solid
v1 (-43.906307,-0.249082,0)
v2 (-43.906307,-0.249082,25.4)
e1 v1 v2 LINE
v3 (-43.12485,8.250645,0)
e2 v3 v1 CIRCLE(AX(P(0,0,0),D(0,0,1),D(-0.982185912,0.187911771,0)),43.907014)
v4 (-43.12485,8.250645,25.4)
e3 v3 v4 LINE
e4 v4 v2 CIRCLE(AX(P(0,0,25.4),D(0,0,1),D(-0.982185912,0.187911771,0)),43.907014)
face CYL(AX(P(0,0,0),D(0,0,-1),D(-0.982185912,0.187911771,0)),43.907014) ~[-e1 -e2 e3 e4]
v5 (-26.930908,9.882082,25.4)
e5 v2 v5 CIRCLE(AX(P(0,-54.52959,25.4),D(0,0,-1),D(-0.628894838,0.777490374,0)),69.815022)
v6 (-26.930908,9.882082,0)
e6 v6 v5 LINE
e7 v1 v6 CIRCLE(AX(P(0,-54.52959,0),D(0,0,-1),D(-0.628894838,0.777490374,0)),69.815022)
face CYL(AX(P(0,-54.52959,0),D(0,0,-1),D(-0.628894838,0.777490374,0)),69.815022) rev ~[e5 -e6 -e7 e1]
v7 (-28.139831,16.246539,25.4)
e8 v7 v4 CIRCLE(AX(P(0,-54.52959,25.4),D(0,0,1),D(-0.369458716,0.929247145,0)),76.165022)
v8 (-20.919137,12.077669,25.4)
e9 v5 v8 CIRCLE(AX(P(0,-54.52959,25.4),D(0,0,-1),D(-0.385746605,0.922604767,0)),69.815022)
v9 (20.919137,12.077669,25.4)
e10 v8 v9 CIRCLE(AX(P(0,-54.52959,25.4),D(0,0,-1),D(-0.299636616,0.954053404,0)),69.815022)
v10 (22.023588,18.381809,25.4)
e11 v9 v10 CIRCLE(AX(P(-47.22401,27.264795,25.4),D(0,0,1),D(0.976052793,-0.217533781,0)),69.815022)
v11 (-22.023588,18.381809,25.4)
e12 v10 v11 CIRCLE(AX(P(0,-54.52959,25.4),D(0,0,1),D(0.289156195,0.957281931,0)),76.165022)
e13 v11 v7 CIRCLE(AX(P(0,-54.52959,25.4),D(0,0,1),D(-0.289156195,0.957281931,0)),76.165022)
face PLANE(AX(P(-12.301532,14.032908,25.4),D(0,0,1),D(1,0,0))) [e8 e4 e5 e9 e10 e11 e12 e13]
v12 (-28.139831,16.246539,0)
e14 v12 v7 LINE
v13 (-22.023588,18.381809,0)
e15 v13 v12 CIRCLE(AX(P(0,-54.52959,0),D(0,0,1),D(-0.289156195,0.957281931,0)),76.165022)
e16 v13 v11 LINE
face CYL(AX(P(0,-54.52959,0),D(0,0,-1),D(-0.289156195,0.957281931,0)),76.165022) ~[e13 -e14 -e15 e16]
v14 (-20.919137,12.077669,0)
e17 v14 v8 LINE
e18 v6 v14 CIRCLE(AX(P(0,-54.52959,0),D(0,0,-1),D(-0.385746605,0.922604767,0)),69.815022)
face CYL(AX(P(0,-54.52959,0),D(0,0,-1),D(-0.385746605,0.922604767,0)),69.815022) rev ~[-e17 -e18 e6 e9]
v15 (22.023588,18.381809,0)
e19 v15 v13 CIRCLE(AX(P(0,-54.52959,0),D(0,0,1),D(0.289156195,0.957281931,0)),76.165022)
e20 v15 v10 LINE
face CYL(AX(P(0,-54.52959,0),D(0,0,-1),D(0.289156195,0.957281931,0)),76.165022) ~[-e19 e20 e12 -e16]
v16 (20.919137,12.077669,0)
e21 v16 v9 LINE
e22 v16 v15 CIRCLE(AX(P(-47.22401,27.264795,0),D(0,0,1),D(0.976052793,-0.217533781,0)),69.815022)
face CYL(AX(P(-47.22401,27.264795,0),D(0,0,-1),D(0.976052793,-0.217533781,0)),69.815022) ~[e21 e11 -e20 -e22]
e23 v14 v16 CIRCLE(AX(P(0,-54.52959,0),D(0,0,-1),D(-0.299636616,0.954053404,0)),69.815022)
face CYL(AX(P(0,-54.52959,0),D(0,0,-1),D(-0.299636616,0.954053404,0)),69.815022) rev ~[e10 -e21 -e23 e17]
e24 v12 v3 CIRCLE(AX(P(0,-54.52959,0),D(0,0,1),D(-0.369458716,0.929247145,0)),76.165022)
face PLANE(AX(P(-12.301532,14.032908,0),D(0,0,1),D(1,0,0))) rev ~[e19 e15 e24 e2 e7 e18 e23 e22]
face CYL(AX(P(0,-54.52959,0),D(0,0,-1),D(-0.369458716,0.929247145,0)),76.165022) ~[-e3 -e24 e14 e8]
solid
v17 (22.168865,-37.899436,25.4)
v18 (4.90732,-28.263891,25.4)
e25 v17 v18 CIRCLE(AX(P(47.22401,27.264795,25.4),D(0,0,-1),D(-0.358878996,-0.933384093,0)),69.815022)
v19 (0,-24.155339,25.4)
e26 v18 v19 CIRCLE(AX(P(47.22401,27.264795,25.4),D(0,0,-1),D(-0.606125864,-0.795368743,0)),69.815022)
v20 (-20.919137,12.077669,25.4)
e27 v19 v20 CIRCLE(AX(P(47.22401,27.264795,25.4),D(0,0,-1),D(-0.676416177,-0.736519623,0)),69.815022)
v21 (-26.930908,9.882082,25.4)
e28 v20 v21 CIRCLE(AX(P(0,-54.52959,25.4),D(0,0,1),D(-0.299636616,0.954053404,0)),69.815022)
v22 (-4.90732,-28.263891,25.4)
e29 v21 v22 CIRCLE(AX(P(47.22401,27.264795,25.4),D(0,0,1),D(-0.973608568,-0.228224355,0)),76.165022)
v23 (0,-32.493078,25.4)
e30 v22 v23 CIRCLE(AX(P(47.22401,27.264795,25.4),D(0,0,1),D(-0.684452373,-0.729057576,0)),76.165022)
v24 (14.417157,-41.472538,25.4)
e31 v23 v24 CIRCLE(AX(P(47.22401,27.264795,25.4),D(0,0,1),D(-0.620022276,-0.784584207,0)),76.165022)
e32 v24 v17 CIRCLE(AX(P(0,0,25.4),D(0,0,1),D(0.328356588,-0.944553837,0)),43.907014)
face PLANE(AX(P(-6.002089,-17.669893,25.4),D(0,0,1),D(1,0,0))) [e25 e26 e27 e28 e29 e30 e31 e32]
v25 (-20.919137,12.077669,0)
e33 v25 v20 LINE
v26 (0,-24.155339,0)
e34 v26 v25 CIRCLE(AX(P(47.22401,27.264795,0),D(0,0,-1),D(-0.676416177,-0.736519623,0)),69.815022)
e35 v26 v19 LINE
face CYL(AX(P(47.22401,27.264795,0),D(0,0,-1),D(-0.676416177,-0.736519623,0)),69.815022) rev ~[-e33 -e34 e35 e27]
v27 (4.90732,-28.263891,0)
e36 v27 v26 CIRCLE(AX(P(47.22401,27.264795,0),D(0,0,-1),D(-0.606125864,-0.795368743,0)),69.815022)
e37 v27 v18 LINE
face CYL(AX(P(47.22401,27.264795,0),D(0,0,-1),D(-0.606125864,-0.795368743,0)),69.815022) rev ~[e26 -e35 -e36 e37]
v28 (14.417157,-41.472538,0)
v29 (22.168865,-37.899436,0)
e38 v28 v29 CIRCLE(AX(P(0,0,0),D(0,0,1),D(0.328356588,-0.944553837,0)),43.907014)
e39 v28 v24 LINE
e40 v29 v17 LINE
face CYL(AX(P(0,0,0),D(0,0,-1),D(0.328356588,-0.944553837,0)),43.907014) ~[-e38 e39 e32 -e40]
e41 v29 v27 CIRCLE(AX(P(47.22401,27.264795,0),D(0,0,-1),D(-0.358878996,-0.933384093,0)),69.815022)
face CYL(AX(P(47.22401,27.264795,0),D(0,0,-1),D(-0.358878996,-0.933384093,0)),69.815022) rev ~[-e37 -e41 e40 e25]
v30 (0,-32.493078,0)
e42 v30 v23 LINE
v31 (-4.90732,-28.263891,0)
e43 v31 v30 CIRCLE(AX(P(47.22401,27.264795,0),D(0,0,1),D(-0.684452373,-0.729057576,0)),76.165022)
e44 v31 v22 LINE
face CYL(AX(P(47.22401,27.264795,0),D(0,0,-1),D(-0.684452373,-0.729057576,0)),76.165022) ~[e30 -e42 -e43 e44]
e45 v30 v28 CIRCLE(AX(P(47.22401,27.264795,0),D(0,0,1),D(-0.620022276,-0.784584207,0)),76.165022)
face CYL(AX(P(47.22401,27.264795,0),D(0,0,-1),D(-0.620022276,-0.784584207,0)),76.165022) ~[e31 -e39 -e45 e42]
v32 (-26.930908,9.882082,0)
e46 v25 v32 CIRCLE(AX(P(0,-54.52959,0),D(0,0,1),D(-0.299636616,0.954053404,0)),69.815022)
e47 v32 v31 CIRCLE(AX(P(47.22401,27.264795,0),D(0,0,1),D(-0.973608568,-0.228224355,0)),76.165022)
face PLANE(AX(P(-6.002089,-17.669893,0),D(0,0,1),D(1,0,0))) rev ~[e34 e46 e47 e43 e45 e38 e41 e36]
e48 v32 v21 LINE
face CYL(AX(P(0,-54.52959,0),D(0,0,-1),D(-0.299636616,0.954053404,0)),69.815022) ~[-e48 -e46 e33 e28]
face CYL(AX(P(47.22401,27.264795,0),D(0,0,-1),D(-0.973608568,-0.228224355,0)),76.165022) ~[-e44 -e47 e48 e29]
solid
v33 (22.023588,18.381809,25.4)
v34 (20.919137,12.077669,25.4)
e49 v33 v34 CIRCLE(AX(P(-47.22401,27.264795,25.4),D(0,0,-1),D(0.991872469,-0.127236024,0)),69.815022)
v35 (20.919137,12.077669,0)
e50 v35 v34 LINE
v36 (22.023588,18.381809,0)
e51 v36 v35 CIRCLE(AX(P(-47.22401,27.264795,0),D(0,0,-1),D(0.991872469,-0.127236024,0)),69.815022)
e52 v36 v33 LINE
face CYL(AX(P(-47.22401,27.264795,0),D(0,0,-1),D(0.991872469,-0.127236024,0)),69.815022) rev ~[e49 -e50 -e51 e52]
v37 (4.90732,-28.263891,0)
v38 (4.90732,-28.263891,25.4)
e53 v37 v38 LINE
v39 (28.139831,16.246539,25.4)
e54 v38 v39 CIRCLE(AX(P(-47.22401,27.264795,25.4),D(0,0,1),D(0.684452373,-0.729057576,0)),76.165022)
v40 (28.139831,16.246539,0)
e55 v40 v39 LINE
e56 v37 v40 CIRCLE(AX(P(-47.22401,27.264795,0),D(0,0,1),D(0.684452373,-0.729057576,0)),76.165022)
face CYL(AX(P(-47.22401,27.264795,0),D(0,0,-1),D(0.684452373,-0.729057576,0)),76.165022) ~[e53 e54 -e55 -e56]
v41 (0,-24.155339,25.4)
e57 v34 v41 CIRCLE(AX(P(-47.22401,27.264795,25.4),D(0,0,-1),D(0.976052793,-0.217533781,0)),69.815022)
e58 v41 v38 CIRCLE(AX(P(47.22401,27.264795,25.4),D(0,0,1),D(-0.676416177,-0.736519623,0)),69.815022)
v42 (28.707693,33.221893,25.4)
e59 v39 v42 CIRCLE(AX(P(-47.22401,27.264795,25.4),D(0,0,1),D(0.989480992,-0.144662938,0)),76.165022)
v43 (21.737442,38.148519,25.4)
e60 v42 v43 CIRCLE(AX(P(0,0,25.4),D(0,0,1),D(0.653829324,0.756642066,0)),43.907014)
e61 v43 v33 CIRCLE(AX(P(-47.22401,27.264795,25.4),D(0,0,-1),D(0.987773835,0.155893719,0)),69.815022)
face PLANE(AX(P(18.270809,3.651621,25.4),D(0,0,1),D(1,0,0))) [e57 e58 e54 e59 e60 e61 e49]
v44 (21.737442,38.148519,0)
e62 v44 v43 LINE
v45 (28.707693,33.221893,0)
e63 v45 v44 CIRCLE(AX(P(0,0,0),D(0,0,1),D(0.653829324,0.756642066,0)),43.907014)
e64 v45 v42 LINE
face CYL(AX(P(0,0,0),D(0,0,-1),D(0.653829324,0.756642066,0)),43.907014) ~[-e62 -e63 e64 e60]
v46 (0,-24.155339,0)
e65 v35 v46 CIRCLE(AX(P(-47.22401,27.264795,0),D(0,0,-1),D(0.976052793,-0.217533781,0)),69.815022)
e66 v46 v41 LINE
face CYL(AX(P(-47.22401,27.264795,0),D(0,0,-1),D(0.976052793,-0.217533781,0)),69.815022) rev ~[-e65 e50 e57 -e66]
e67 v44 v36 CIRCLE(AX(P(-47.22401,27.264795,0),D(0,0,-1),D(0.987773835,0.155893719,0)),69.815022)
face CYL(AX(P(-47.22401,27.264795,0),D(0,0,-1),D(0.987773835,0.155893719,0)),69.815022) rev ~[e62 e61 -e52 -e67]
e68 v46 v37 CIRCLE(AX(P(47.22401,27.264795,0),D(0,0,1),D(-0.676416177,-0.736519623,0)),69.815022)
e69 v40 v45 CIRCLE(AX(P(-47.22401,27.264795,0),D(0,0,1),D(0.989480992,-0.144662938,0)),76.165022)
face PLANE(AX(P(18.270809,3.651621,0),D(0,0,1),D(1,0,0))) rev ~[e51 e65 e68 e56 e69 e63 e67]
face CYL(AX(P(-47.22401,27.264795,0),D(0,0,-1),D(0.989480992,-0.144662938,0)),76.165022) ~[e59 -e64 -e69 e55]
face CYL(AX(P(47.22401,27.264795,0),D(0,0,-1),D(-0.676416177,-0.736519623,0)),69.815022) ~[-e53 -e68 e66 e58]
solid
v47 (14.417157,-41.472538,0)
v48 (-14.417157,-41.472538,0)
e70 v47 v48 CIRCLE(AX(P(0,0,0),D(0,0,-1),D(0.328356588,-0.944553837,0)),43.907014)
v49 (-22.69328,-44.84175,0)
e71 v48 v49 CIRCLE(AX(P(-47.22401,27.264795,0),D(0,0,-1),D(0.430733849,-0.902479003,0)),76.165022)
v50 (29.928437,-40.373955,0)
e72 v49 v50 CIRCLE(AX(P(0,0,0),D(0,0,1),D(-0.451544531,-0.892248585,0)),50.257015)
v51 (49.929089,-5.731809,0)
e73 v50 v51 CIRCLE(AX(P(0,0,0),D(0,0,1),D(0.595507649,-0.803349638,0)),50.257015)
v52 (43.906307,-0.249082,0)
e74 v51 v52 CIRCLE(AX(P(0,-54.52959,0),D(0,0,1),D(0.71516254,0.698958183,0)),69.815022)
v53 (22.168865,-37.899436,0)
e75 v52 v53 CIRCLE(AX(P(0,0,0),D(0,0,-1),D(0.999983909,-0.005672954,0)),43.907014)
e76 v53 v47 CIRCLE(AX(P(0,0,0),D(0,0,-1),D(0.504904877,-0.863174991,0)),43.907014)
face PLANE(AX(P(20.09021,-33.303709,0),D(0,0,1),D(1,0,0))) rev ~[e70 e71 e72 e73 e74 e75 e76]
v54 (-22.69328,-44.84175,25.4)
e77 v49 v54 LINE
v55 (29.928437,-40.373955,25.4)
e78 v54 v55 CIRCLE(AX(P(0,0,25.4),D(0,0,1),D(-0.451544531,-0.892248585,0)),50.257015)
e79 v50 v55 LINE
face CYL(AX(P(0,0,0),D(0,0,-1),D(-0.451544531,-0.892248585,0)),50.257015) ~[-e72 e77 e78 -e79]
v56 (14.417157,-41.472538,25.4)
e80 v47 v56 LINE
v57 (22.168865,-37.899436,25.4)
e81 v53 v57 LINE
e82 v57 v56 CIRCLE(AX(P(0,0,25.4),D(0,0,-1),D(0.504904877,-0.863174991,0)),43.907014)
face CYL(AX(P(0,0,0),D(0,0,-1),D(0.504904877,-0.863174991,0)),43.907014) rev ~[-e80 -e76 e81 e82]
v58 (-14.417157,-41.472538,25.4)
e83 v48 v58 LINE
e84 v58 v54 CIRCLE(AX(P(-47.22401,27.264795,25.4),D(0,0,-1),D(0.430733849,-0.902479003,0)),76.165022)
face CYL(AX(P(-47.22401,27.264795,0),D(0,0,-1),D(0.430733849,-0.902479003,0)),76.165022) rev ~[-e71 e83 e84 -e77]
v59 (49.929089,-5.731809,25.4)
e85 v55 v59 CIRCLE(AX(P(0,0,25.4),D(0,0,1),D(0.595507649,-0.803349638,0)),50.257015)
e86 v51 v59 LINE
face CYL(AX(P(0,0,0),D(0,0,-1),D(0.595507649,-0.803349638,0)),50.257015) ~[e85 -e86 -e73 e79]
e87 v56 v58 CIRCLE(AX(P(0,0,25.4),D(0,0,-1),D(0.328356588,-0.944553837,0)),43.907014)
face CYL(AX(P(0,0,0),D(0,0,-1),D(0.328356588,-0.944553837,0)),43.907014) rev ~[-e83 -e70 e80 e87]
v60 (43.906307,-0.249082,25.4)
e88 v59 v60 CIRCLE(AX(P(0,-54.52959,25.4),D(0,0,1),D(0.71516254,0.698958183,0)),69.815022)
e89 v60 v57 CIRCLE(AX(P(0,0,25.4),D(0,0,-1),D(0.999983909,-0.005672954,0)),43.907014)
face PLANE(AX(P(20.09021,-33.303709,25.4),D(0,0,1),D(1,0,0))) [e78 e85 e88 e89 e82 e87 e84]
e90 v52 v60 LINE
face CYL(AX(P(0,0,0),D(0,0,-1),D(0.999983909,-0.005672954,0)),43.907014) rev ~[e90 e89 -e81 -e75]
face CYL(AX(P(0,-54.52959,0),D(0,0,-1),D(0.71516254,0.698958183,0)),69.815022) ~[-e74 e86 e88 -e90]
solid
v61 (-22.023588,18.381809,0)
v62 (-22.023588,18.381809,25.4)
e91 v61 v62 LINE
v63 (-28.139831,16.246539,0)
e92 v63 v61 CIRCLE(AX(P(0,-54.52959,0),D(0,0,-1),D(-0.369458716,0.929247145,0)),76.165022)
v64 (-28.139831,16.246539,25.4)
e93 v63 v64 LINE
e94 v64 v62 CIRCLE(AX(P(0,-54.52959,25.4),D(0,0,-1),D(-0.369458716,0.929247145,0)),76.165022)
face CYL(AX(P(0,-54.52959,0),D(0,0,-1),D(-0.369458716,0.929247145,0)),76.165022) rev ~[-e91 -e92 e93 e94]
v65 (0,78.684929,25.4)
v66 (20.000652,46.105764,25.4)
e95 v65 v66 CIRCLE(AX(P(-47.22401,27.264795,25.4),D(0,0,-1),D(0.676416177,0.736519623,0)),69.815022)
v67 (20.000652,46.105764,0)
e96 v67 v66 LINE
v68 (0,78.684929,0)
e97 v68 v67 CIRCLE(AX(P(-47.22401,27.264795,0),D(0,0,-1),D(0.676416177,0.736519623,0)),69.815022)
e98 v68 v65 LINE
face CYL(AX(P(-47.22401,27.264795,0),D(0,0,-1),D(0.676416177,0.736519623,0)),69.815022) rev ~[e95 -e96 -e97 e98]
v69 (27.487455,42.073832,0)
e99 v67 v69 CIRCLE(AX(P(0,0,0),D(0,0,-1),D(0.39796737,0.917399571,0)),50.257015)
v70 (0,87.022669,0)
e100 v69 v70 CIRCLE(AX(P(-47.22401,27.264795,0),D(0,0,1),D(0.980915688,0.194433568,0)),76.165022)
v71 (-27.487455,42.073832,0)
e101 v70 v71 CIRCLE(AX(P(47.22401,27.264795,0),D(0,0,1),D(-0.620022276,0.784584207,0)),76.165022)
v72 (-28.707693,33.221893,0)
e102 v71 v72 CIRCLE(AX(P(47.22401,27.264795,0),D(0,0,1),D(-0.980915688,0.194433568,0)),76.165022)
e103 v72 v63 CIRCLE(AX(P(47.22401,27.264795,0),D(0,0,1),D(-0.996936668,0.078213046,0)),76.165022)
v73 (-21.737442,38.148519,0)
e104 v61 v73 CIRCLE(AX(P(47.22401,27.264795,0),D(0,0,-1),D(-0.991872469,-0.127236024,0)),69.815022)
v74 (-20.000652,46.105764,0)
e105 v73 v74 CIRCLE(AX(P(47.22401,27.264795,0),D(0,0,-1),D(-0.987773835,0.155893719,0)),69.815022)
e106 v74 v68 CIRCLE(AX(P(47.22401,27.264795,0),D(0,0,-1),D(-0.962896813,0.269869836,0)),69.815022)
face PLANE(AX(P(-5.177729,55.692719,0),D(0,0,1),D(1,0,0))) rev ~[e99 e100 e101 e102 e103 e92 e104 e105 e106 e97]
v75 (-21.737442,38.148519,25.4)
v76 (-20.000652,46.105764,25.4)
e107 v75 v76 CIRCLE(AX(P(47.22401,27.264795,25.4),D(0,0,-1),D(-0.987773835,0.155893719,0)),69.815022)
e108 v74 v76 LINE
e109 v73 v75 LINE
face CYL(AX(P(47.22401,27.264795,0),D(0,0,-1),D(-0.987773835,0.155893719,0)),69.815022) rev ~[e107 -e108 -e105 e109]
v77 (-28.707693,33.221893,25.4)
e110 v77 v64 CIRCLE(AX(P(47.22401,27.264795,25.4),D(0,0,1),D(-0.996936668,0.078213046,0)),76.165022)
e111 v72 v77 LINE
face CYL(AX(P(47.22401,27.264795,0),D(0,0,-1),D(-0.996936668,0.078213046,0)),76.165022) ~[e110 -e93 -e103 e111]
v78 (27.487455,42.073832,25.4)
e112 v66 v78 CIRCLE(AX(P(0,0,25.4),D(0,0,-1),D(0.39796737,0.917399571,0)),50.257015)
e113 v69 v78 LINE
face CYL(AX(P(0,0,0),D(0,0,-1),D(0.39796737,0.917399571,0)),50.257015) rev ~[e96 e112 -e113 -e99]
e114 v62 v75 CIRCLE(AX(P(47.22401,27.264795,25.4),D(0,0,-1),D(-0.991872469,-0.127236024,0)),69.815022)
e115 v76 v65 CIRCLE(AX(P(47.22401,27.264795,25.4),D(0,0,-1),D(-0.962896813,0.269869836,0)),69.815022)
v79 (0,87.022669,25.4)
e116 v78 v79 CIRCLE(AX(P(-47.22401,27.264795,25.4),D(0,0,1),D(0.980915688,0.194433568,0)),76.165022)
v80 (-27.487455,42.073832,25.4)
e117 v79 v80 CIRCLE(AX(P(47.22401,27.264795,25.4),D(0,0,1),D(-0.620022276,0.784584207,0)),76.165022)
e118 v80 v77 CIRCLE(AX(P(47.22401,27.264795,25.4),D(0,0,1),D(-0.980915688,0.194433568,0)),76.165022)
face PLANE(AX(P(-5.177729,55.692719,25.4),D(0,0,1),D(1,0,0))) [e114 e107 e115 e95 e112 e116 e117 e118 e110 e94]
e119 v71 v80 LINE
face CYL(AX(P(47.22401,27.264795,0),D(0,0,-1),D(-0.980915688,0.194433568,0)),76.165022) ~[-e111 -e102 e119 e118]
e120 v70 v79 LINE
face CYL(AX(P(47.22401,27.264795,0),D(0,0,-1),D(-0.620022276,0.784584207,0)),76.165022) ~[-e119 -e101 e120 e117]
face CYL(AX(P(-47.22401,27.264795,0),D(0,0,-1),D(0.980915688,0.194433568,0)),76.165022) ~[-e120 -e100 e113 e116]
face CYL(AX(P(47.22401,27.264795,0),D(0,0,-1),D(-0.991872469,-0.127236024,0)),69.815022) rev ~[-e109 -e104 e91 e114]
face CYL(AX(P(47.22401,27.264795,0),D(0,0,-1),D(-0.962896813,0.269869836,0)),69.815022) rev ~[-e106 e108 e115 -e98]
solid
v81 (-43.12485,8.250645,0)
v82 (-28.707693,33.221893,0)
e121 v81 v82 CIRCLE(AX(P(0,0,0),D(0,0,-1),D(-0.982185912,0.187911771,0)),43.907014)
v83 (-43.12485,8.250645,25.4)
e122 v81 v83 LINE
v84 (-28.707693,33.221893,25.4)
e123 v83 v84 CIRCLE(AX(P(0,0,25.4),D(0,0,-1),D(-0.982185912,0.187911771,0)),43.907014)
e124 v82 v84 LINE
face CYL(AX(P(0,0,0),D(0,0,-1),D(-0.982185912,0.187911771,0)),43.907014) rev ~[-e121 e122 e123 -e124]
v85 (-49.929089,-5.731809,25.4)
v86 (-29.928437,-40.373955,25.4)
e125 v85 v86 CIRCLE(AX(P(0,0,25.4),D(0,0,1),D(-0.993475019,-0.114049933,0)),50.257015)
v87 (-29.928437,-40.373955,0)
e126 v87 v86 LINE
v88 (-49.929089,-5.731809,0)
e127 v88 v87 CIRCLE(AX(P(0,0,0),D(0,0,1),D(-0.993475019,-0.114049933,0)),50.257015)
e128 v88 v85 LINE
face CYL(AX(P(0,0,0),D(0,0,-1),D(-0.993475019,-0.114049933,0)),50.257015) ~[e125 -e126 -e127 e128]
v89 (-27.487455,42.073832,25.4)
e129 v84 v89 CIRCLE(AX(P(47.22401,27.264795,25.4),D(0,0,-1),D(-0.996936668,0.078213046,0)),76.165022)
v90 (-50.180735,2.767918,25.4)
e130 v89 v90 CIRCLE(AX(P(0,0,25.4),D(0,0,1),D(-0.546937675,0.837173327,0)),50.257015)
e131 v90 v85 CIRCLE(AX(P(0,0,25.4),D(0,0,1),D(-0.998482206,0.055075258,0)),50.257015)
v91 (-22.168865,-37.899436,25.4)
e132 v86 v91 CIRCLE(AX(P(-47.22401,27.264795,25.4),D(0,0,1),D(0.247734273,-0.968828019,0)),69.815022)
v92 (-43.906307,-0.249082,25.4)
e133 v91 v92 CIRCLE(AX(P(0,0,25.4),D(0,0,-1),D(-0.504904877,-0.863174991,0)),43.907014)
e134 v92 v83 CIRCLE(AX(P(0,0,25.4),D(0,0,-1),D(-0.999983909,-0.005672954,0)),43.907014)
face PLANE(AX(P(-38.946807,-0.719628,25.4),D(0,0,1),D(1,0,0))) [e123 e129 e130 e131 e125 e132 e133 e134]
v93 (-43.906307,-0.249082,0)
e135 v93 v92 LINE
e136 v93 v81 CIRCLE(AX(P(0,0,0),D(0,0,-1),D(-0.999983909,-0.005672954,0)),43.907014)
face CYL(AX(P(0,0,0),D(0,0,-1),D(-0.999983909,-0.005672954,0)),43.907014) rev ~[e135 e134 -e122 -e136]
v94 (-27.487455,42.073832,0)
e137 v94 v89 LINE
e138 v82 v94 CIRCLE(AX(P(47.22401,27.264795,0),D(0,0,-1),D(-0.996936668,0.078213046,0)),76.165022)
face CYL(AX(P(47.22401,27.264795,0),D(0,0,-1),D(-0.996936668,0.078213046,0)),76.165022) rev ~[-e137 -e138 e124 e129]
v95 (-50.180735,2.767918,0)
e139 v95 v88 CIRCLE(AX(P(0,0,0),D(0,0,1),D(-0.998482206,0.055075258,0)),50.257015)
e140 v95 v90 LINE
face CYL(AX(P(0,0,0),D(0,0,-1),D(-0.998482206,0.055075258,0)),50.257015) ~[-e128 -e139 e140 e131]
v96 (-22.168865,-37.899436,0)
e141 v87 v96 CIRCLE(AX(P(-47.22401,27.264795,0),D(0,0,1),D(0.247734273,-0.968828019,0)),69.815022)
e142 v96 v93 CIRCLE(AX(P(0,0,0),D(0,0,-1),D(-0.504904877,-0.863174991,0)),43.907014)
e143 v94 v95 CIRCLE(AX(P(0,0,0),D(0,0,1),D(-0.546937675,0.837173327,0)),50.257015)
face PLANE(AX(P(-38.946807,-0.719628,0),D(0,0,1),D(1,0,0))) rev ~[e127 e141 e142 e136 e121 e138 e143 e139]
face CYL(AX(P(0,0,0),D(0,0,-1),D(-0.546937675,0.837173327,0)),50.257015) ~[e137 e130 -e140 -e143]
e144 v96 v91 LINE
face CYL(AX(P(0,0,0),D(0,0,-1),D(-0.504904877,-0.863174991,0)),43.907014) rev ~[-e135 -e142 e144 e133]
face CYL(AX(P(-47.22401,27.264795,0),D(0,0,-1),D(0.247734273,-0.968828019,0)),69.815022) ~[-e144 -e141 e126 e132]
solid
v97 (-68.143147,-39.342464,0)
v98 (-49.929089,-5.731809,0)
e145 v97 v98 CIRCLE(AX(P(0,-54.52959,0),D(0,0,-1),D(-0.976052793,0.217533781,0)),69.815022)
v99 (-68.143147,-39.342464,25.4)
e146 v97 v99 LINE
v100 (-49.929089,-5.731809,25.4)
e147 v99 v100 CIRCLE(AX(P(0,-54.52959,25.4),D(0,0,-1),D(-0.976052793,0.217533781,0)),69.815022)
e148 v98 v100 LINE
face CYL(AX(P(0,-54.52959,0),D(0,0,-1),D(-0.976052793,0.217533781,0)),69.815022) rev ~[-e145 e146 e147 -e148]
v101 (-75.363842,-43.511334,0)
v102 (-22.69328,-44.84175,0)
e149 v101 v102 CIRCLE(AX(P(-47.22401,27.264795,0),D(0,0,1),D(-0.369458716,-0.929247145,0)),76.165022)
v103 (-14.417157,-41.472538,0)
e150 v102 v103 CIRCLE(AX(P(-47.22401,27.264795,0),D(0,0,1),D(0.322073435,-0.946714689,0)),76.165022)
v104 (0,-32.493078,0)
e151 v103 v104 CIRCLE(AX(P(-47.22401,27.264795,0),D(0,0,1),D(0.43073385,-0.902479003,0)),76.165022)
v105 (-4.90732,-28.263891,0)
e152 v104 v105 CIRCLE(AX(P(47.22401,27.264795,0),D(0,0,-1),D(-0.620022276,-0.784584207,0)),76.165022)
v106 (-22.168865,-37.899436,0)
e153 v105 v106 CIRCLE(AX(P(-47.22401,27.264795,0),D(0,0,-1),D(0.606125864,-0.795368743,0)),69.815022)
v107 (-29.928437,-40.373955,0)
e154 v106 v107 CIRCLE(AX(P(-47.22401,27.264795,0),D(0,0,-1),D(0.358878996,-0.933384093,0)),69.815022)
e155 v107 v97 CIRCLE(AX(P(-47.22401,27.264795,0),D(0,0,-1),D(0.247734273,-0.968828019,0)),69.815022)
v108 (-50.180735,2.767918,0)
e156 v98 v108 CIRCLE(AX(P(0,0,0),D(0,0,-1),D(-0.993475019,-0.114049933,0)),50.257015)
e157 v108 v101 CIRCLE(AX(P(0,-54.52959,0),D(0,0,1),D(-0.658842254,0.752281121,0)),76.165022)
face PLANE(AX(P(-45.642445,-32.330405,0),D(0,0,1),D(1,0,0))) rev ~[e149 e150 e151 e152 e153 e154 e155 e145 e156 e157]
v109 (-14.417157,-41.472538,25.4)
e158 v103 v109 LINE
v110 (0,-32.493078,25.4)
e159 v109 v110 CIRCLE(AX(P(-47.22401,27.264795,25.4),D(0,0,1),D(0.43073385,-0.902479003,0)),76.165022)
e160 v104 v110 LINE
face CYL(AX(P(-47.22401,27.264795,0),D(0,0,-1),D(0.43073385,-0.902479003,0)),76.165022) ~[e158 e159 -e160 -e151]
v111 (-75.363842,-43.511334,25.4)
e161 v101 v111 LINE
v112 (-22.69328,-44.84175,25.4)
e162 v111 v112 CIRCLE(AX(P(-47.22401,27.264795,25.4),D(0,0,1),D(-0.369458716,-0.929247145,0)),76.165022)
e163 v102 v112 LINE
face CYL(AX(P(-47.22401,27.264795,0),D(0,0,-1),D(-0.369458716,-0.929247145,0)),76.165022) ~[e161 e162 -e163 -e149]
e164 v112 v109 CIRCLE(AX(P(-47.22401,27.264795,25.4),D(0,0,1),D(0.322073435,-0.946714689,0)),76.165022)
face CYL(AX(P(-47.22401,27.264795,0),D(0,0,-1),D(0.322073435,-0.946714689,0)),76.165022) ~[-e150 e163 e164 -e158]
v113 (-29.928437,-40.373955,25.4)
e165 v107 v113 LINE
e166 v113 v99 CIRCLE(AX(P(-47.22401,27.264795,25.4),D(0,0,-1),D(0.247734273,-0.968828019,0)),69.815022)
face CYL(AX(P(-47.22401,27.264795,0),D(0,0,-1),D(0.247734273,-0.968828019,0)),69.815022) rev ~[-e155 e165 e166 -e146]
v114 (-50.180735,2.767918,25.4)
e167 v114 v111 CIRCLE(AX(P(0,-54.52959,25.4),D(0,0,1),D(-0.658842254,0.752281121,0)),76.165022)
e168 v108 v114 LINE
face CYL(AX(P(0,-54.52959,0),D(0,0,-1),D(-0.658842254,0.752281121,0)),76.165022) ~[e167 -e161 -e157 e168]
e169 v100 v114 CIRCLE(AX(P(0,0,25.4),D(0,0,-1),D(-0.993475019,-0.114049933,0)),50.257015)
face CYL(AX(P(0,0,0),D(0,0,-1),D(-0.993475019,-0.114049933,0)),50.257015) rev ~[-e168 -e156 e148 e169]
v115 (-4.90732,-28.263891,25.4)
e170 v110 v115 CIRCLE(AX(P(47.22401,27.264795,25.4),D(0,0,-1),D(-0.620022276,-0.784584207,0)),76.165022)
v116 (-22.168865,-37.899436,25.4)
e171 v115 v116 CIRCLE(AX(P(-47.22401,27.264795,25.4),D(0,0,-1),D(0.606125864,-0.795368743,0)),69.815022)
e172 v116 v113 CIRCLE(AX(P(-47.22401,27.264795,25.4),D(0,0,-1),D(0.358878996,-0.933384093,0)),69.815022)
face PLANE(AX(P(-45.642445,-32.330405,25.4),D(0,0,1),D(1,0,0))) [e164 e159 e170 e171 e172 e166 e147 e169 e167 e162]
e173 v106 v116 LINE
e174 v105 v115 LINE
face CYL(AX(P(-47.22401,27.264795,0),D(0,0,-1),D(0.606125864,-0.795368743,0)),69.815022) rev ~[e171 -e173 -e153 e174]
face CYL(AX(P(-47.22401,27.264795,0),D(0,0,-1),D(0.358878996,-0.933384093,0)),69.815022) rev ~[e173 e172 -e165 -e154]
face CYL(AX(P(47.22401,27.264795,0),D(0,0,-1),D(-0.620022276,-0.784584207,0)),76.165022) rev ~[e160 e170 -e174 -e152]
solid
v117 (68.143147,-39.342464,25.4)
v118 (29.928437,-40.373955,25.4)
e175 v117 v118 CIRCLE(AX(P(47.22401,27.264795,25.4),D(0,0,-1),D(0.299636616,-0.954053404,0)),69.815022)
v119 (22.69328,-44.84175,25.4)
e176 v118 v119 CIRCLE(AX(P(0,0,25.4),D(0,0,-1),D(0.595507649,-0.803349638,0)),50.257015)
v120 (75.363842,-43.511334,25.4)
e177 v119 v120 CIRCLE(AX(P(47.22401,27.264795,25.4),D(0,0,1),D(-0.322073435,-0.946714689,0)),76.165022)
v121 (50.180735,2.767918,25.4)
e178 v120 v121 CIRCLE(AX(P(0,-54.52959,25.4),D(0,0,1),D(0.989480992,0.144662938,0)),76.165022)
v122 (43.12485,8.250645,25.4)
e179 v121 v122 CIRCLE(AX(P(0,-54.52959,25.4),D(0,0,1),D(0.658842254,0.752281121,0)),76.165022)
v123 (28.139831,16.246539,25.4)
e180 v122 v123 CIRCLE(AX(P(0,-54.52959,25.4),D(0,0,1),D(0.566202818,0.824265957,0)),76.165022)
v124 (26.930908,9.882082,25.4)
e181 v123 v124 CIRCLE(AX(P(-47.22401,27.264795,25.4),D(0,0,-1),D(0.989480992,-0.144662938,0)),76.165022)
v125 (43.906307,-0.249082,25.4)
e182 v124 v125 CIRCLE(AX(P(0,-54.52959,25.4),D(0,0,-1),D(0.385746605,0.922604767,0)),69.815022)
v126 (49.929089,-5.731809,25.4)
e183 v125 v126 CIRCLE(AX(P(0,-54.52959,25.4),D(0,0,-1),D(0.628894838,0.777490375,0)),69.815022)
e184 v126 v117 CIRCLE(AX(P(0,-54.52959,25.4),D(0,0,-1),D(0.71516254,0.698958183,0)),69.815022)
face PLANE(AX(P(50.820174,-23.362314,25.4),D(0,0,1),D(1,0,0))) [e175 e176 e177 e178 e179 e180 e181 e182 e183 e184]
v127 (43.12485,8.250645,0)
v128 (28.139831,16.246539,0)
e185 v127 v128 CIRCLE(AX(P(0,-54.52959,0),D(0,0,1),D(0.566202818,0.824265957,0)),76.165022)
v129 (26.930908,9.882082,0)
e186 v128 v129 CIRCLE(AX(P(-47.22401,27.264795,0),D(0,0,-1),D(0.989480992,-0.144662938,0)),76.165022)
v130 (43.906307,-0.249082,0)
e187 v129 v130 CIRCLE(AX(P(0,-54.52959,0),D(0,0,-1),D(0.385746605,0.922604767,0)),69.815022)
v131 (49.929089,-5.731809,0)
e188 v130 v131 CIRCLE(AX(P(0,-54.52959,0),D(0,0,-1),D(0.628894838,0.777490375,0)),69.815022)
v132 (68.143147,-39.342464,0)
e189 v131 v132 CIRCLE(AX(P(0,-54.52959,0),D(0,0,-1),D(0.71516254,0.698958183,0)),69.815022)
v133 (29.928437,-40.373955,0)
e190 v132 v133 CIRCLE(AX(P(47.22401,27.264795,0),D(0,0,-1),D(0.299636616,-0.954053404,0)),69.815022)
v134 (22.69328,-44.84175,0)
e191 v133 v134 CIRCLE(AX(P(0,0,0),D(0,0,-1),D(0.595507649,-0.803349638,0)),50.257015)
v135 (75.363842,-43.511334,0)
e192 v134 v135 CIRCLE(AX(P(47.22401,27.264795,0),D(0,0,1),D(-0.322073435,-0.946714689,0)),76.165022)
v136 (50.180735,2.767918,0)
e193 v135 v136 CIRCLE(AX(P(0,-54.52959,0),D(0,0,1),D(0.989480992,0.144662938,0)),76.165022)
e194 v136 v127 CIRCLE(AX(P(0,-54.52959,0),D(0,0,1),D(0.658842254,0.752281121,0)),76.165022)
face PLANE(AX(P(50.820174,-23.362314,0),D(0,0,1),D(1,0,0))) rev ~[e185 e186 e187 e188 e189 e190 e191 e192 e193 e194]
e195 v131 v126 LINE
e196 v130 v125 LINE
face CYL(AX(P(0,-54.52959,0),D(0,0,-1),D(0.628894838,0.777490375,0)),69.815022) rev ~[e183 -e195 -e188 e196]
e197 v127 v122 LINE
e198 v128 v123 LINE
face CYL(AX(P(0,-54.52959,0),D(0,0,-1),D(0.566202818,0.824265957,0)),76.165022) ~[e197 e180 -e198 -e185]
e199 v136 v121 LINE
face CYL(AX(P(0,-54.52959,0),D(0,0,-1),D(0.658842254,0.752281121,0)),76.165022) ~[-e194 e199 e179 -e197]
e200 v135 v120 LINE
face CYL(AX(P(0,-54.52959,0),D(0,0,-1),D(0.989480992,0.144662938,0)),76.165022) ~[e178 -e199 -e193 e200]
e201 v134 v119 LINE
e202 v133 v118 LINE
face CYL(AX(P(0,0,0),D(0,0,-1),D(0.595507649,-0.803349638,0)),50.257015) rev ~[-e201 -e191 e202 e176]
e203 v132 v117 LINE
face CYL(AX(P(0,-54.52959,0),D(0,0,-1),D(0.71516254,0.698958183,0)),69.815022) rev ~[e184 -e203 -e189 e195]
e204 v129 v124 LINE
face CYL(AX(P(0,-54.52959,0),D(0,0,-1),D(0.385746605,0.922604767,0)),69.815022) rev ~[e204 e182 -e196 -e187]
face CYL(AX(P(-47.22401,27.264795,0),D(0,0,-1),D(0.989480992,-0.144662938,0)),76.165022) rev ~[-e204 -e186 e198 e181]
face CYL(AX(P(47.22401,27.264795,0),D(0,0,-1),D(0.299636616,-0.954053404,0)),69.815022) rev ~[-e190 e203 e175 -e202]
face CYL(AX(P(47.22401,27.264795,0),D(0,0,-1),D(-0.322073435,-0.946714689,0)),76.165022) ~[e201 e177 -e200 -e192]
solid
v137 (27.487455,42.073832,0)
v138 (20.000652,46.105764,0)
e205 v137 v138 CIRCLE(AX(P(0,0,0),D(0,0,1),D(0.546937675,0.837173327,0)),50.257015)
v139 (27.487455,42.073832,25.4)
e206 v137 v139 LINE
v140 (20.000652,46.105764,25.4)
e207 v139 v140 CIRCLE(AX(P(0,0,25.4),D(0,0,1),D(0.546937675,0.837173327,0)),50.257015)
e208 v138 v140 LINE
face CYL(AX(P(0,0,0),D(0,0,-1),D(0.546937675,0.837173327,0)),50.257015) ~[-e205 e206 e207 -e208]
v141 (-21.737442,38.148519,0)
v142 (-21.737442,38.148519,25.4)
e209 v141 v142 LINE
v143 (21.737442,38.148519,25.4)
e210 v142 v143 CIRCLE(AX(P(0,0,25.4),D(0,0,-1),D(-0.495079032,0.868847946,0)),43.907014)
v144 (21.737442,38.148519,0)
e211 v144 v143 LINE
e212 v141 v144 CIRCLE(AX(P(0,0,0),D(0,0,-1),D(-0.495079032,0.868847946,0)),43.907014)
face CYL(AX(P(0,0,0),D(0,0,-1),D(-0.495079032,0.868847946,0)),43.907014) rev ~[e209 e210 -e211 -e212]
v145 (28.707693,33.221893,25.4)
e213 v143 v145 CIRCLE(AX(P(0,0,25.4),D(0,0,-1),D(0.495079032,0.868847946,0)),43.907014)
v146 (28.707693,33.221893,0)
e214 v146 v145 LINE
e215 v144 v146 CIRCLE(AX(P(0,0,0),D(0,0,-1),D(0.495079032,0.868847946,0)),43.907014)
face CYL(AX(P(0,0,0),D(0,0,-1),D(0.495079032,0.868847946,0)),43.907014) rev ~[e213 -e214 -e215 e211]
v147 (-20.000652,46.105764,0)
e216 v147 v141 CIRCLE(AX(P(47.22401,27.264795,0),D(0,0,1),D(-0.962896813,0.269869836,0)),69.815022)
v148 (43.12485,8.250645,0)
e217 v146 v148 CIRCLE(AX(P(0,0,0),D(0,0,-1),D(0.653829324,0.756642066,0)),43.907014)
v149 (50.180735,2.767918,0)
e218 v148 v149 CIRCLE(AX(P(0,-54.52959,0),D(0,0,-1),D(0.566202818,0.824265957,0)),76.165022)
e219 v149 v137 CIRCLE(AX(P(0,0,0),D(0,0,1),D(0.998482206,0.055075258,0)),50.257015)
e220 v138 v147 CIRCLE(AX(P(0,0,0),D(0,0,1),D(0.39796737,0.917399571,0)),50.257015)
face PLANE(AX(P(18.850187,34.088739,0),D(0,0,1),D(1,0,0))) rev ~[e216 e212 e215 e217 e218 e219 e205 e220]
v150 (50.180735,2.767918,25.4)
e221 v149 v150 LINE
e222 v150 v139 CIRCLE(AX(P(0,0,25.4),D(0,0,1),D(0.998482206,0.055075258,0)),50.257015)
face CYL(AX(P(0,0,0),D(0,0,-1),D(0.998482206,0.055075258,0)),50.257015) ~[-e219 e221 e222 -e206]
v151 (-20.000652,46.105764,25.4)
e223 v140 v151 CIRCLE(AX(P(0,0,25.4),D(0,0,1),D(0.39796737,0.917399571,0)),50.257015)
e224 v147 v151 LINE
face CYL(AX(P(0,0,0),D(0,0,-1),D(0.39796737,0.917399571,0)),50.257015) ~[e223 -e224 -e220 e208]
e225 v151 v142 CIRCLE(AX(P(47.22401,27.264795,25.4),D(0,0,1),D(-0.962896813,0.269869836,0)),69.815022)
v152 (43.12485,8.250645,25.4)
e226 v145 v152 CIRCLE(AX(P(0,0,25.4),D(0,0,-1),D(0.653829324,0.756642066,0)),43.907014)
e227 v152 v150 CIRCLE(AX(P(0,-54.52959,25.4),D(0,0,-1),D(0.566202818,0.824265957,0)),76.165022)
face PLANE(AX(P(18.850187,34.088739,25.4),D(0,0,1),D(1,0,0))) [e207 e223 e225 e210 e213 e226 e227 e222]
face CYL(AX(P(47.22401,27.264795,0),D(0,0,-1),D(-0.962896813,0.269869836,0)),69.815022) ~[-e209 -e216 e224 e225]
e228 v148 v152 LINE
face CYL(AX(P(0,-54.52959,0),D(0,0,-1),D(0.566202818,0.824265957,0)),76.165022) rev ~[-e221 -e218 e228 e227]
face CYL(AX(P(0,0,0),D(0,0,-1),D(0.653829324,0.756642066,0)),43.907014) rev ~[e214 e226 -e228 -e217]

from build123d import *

# Parameters (mm, degrees)
F1_DEPTH = 25.4
F2_DEPTH = 25.4
F3_DEPTH = 25.4
F4_DEPTH = 25.4
F5_DEPTH = 25.4
F6_DEPTH = 25.4
F7_DEPTH = 25.4
F8_DEPTH = 25.4
F9_DEPTH = 25.4


with BuildPart() as f1:
    # F0 (on Top) → F1 (new body)
    with BuildSketch(Plane.XY):
        with BuildLine():
            ThreePointArc((0, 87.0226686738), (-17.7541746022, 67.0007496498), (-27.4874547758, 42.0738321855))
            ThreePointArc((-27.4874547758, 42.0738321855), (-28.2274989742, 37.6657729847), (-28.7076930336, 33.2218934859))
            ThreePointArc((-28.7076930336, 33.2218934859), (-28.8984315039, 24.7183376484), (-28.1398313513, 16.2465392056))
            ThreePointArc((-28.1398313513, 16.2465392056), (-25.1044220257, 17.3792312111), (-22.0235880171, 18.3818092703))
            ThreePointArc((-22.0235880171, 18.3818092703), (-22.5836977464, 28.2753433236), (-21.7374417892, 38.1485185894))
            ThreePointArc((-21.7374417892, 38.1485185894), (-20.9851816903, 42.1524893376), (-20.0006519478, 46.1057637014))
            ThreePointArc((-20.0006519478, 46.1057637014), (-12.2736801117, 63.7909795557), (0, 78.6849290011))
            ThreePointArc((0, 78.6849290011), (12.2736801117, 63.7909795557), (20.0006519478, 46.1057637014))
            ThreePointArc((20.0006519478, 46.1057637014), (23.829481488, 44.248427507), (27.4874547758, 42.0738321855))
            ThreePointArc((27.4874547758, 42.0738321855), (17.7541746022, 67.0007496498), (0, 87.0226686738))
        make_face()
    extrude(amount=F1_DEPTH)


with BuildPart() as f2:
    # F0 (on Top) → F2 (new body)
    with BuildSketch(Plane.XY):
        with BuildLine():
            ThreePointArc((-4.907319787, -28.2638913404), (-2.4986447142, -30.4306828271), (0, -32.4930784113))
            ThreePointArc((0, -32.4930784113), (6.9574925909, -37.3859446361), (14.4171572038, -41.4725381941))
            ThreePointArc((14.4171572038, -41.4725381941), (18.3800442243, -39.8748018229), (22.1688653205, -37.8994360974))
            ThreePointArc((22.1688653205, -37.8994360974), (13.1953167457, -33.6957276216), (4.907319787, -28.2638913404))
            ThreePointArc((4.907319787, -28.2638913404), (2.4065546981, -26.2658782251), (0, -24.1553387386))
            ThreePointArc((0, -24.1553387386), (-13.2375723861, -7.6427159771), (-20.9191369859, 12.0776693752))
            ThreePointArc((-20.9191369859, 12.0776693752), (-23.950195146, 11.0488016143), (-26.9309078055, 9.8820820761))
            ThreePointArc((-26.9309078055, 9.8820820761), (-18.7368337054, -10.81771598), (-4.907319787, -28.2638913404))
        make_face()
    extrude(amount=F2_DEPTH)


with BuildPart() as f3:
    # F0 (on Top) → F3 (new body)
    with BuildSketch(Plane.XY):
        with BuildLine():
            ThreePointArc((29.9284366524, -40.3739545298), (26.4055215546, -42.7611500811), (22.6932801193, -44.841750214))
            ThreePointArc((22.6932801193, -44.841750214), (49.1472639682, -48.8759410537), (75.3638417766, -43.5113343369))
            ThreePointArc((75.3638417766, -43.5113343369), (66.9014385705, -18.1248085961), (50.1807348951, 2.7679180285))
            ThreePointArc((50.1807348951, 2.7679180285), (46.733265745, 5.6128447047), (43.1248502374, 8.2506447082))
            ThreePointArc((43.1248502374, 8.2506447082), (35.8559240948, 12.6676069877), (28.1398313513, 16.2465392056))
            ThreePointArc((28.1398313513, 16.2465392056), (27.6030667405, 13.051451619), (26.9309078055, 9.8820820761))
            ThreePointArc((26.9309078055, 9.8820820761), (35.7790144928, 5.4203843047), (43.9063071097, -0.2490824843))
            ThreePointArc((43.9063071097, -0.2490824843), (46.9977174447, -2.9025442143), (49.9290886011, -5.731809164))
            ThreePointArc((49.9290886011, -5.731809164), (61.3814488873, -21.2661709979), (68.1431474157, -39.3424644987))
            ThreePointArc((68.1431474157, -39.3424644987), (49.1077687747, -42.5248085524), (29.9284366524, -40.3739545298))
        make_face()
    extrude(amount=F3_DEPTH)


with BuildPart() as f4:
    # F0 (on Top) → F4 (new body)
    with BuildSketch(Plane.XY):
        with BuildLine():
            ThreePointArc((-22.0235880171, 18.3818092703), (-25.1044220257, 17.3792312111), (-28.1398313513, 16.2465392056))
            ThreePointArc((-28.1398313513, 16.2465392056), (-35.8559240948, 12.6676069877), (-43.1248502374, 8.2506447082))
            ThreePointArc((-43.1248502374, 8.2506447082), (-43.7226134613, 4.0198156944), (-43.9063071097, -0.2490824843))
            ThreePointArc((-43.9063071097, -0.2490824843), (-35.7790144928, 5.4203843047), (-26.9309078055, 9.8820820761))
            ThreePointArc((-26.9309078055, 9.8820820761), (-23.950195146, 11.0488016143), (-20.9191369859, 12.0776693752))
            ThreePointArc((-20.9191369859, 12.0776693752), (0, 15.2854319654), (20.9191369859, 12.0776693752))
            ThreePointArc((20.9191369859, 12.0776693752), (21.5436404471, 15.2170766197), (22.0235880171, 18.3818092703))
            ThreePointArc((22.0235880171, 18.3818092703), (0, 21.6354319654), (-22.0235880171, 18.3818092703))
        make_face()
    extrude(amount=F4_DEPTH)


with BuildPart() as f5:
    # F0 (on Top) → F5 (new body)
    with BuildSketch(Plane.XY):
        with BuildLine():
            ThreePointArc((-50.1807348951, 2.7679180285), (-66.9014385705, -18.1248085961), (-75.3638417766, -43.5113343369))
            ThreePointArc((-75.3638417766, -43.5113343369), (-49.1472639682, -48.8759410537), (-22.6932801193, -44.841750214))
            ThreePointArc((-22.6932801193, -44.841750214), (-18.5057667708, -43.2786176893), (-14.4171572038, -41.4725381941))
            ThreePointArc((-14.4171572038, -41.4725381941), (-6.9574925909, -37.3859446361), (0, -32.4930784113))
            ThreePointArc((0, -32.4930784113), (-2.4986447142, -30.4306828271), (-4.907319787, -28.2638913404))
            ThreePointArc((-4.907319787, -28.2638913404), (-13.1953167457, -33.6957276216), (-22.1688653205, -37.8994360974))
            ThreePointArc((-22.1688653205, -37.8994360974), (-26.012535754, -39.2499451156), (-29.9284366524, -40.3739545298))
            ThreePointArc((-29.9284366524, -40.3739545298), (-49.1077687747, -42.5248085524), (-68.1431474157, -39.3424644987))
            ThreePointArc((-68.1431474157, -39.3424644987), (-61.3814488873, -21.2661709979), (-49.9290886011, -5.731809164))
            ThreePointArc((-49.9290886011, -5.731809164), (-50.2350030427, -1.487277422), (-50.1807348951, 2.7679180285))
        make_face()
    extrude(amount=F5_DEPTH)


with BuildPart() as f6:
    # F0 (on Top) → F6 (new body)
    with BuildSketch(Plane.XY):
        with BuildLine():
            ThreePointArc((0, -24.1553387386), (2.4065546981, -26.2658782251), (4.907319787, -28.2638913404))
            ThreePointArc((4.907319787, -28.2638913404), (18.7368337054, -10.81771598), (26.9309078055, 9.8820820761))
            ThreePointArc((26.9309078055, 9.8820820761), (27.6030667405, 13.051451619), (28.1398313513, 16.2465392056))
            ThreePointArc((28.1398313513, 16.2465392056), (28.8984315039, 24.7183376484), (28.7076930336, 33.2218934859))
            ThreePointArc((28.7076930336, 33.2218934859), (25.3425692373, 35.8549861323), (21.7374417892, 38.1485185894))
            ThreePointArc((21.7374417892, 38.1485185894), (22.5836977464, 28.2753433236), (22.0235880171, 18.3818092703))
            ThreePointArc((22.0235880171, 18.3818092703), (21.5436404471, 15.2170766197), (20.9191369859, 12.0776693752))
            ThreePointArc((20.9191369859, 12.0776693752), (13.2375723861, -7.6427159771), (0, -24.1553387386))
        make_face()
    extrude(amount=F6_DEPTH)


with BuildPart() as f7:
    # F0 (on Top) → F7 (new body)
    with BuildSketch(Plane.XY):
        with BuildLine():
            ThreePointArc((43.1248502374, 8.2506447082), (46.733265745, 5.6128447047), (50.1807348951, 2.7679180285))
            ThreePointArc((50.1807348951, 2.7679180285), (43.5238514337, 25.1285073414), (27.4874547758, 42.0738321855))
            ThreePointArc((27.4874547758, 42.0738321855), (23.829481488, 44.248427507), (20.0006519478, 46.1057637014))
            ThreePointArc((20.0006519478, 46.1057637014), (0, 50.2570146828), (-20.0006519478, 46.1057637014))
            ThreePointArc((-20.0006519478, 46.1057637014), (-20.9851816903, 42.1524893376), (-21.7374417892, 38.1485185894))
            ThreePointArc((-21.7374417892, 38.1485185894), (0, 43.9070136322), (21.7374417892, 38.1485185894))
            ThreePointArc((21.7374417892, 38.1485185894), (25.3425692373, 35.8549861323), (28.7076930336, 33.2218934859))
            ThreePointArc((28.7076930336, 33.2218934859), (38.0245892098, 21.9535068161), (43.1248502374, 8.2506447082))
        make_face()
    extrude(amount=F7_DEPTH)


with BuildPart() as f8:
    # F0 (on Top) → F8 (new body)
    with BuildSketch(Plane.XY):
        with BuildLine():
            ThreePointArc((-27.4874547758, 42.0738321855), (-43.5238514337, 25.1285073414), (-50.1807348951, 2.7679180285))
            ThreePointArc((-50.1807348951, 2.7679180285), (-50.2350030427, -1.487277422), (-49.9290886011, -5.731809164))
            ThreePointArc((-49.9290886011, -5.731809164), (-43.5238514356, -25.1285073381), (-29.9284366524, -40.3739545298))
            ThreePointArc((-29.9284366524, -40.3739545298), (-26.012535754, -39.2499451156), (-22.1688653205, -37.8994360974))
            ThreePointArc((-22.1688653205, -37.8994360974), (-38.0245892117, -21.9535068128), (-43.9063071097, -0.2490824843))
            ThreePointArc((-43.9063071097, -0.2490824843), (-43.7226134613, 4.0198156944), (-43.1248502374, 8.2506447082))
            ThreePointArc((-43.1248502374, 8.2506447082), (-38.0245892098, 21.9535068161), (-28.7076930336, 33.2218934859))
            ThreePointArc((-28.7076930336, 33.2218934859), (-28.2274989742, 37.6657729847), (-27.4874547758, 42.0738321855))
        make_face()
    extrude(amount=F8_DEPTH)


with BuildPart() as f9:
    # F0 (on Top) → F9 (new body)
    with BuildSketch(Plane.XY):
        with BuildLine():
            ThreePointArc((-14.4171572038, -41.4725381941), (-18.5057667708, -43.2786176893), (-22.6932801193, -44.841750214))
            ThreePointArc((-22.6932801193, -44.841750214), (0, -50.2570146828), (22.6932801193, -44.841750214))
            ThreePointArc((22.6932801193, -44.841750214), (26.4055215546, -42.7611500811), (29.9284366524, -40.3739545298))
            ThreePointArc((29.9284366524, -40.3739545298), (43.5238514356, -25.1285073381), (49.9290886011, -5.731809164))
            ThreePointArc((49.9290886011, -5.731809164), (46.9977174447, -2.9025442143), (43.9063071097, -0.2490824843))
            ThreePointArc((43.9063071097, -0.2490824843), (38.0245892117, -21.9535068128), (22.1688653205, -37.8994360974))
            ThreePointArc((22.1688653205, -37.8994360974), (18.3800442243, -39.8748018229), (14.4171572038, -41.4725381941))
            ThreePointArc((14.4171572038, -41.4725381941), (0, -43.9070136322), (-14.4171572038, -41.4725381941))
        make_face()
    extrude(amount=F9_DEPTH)


solid = Compound([f1.part, f2.part, f3.part, f4.part, f5.part, f6.part, f7.part, f8.part, f9.part])
